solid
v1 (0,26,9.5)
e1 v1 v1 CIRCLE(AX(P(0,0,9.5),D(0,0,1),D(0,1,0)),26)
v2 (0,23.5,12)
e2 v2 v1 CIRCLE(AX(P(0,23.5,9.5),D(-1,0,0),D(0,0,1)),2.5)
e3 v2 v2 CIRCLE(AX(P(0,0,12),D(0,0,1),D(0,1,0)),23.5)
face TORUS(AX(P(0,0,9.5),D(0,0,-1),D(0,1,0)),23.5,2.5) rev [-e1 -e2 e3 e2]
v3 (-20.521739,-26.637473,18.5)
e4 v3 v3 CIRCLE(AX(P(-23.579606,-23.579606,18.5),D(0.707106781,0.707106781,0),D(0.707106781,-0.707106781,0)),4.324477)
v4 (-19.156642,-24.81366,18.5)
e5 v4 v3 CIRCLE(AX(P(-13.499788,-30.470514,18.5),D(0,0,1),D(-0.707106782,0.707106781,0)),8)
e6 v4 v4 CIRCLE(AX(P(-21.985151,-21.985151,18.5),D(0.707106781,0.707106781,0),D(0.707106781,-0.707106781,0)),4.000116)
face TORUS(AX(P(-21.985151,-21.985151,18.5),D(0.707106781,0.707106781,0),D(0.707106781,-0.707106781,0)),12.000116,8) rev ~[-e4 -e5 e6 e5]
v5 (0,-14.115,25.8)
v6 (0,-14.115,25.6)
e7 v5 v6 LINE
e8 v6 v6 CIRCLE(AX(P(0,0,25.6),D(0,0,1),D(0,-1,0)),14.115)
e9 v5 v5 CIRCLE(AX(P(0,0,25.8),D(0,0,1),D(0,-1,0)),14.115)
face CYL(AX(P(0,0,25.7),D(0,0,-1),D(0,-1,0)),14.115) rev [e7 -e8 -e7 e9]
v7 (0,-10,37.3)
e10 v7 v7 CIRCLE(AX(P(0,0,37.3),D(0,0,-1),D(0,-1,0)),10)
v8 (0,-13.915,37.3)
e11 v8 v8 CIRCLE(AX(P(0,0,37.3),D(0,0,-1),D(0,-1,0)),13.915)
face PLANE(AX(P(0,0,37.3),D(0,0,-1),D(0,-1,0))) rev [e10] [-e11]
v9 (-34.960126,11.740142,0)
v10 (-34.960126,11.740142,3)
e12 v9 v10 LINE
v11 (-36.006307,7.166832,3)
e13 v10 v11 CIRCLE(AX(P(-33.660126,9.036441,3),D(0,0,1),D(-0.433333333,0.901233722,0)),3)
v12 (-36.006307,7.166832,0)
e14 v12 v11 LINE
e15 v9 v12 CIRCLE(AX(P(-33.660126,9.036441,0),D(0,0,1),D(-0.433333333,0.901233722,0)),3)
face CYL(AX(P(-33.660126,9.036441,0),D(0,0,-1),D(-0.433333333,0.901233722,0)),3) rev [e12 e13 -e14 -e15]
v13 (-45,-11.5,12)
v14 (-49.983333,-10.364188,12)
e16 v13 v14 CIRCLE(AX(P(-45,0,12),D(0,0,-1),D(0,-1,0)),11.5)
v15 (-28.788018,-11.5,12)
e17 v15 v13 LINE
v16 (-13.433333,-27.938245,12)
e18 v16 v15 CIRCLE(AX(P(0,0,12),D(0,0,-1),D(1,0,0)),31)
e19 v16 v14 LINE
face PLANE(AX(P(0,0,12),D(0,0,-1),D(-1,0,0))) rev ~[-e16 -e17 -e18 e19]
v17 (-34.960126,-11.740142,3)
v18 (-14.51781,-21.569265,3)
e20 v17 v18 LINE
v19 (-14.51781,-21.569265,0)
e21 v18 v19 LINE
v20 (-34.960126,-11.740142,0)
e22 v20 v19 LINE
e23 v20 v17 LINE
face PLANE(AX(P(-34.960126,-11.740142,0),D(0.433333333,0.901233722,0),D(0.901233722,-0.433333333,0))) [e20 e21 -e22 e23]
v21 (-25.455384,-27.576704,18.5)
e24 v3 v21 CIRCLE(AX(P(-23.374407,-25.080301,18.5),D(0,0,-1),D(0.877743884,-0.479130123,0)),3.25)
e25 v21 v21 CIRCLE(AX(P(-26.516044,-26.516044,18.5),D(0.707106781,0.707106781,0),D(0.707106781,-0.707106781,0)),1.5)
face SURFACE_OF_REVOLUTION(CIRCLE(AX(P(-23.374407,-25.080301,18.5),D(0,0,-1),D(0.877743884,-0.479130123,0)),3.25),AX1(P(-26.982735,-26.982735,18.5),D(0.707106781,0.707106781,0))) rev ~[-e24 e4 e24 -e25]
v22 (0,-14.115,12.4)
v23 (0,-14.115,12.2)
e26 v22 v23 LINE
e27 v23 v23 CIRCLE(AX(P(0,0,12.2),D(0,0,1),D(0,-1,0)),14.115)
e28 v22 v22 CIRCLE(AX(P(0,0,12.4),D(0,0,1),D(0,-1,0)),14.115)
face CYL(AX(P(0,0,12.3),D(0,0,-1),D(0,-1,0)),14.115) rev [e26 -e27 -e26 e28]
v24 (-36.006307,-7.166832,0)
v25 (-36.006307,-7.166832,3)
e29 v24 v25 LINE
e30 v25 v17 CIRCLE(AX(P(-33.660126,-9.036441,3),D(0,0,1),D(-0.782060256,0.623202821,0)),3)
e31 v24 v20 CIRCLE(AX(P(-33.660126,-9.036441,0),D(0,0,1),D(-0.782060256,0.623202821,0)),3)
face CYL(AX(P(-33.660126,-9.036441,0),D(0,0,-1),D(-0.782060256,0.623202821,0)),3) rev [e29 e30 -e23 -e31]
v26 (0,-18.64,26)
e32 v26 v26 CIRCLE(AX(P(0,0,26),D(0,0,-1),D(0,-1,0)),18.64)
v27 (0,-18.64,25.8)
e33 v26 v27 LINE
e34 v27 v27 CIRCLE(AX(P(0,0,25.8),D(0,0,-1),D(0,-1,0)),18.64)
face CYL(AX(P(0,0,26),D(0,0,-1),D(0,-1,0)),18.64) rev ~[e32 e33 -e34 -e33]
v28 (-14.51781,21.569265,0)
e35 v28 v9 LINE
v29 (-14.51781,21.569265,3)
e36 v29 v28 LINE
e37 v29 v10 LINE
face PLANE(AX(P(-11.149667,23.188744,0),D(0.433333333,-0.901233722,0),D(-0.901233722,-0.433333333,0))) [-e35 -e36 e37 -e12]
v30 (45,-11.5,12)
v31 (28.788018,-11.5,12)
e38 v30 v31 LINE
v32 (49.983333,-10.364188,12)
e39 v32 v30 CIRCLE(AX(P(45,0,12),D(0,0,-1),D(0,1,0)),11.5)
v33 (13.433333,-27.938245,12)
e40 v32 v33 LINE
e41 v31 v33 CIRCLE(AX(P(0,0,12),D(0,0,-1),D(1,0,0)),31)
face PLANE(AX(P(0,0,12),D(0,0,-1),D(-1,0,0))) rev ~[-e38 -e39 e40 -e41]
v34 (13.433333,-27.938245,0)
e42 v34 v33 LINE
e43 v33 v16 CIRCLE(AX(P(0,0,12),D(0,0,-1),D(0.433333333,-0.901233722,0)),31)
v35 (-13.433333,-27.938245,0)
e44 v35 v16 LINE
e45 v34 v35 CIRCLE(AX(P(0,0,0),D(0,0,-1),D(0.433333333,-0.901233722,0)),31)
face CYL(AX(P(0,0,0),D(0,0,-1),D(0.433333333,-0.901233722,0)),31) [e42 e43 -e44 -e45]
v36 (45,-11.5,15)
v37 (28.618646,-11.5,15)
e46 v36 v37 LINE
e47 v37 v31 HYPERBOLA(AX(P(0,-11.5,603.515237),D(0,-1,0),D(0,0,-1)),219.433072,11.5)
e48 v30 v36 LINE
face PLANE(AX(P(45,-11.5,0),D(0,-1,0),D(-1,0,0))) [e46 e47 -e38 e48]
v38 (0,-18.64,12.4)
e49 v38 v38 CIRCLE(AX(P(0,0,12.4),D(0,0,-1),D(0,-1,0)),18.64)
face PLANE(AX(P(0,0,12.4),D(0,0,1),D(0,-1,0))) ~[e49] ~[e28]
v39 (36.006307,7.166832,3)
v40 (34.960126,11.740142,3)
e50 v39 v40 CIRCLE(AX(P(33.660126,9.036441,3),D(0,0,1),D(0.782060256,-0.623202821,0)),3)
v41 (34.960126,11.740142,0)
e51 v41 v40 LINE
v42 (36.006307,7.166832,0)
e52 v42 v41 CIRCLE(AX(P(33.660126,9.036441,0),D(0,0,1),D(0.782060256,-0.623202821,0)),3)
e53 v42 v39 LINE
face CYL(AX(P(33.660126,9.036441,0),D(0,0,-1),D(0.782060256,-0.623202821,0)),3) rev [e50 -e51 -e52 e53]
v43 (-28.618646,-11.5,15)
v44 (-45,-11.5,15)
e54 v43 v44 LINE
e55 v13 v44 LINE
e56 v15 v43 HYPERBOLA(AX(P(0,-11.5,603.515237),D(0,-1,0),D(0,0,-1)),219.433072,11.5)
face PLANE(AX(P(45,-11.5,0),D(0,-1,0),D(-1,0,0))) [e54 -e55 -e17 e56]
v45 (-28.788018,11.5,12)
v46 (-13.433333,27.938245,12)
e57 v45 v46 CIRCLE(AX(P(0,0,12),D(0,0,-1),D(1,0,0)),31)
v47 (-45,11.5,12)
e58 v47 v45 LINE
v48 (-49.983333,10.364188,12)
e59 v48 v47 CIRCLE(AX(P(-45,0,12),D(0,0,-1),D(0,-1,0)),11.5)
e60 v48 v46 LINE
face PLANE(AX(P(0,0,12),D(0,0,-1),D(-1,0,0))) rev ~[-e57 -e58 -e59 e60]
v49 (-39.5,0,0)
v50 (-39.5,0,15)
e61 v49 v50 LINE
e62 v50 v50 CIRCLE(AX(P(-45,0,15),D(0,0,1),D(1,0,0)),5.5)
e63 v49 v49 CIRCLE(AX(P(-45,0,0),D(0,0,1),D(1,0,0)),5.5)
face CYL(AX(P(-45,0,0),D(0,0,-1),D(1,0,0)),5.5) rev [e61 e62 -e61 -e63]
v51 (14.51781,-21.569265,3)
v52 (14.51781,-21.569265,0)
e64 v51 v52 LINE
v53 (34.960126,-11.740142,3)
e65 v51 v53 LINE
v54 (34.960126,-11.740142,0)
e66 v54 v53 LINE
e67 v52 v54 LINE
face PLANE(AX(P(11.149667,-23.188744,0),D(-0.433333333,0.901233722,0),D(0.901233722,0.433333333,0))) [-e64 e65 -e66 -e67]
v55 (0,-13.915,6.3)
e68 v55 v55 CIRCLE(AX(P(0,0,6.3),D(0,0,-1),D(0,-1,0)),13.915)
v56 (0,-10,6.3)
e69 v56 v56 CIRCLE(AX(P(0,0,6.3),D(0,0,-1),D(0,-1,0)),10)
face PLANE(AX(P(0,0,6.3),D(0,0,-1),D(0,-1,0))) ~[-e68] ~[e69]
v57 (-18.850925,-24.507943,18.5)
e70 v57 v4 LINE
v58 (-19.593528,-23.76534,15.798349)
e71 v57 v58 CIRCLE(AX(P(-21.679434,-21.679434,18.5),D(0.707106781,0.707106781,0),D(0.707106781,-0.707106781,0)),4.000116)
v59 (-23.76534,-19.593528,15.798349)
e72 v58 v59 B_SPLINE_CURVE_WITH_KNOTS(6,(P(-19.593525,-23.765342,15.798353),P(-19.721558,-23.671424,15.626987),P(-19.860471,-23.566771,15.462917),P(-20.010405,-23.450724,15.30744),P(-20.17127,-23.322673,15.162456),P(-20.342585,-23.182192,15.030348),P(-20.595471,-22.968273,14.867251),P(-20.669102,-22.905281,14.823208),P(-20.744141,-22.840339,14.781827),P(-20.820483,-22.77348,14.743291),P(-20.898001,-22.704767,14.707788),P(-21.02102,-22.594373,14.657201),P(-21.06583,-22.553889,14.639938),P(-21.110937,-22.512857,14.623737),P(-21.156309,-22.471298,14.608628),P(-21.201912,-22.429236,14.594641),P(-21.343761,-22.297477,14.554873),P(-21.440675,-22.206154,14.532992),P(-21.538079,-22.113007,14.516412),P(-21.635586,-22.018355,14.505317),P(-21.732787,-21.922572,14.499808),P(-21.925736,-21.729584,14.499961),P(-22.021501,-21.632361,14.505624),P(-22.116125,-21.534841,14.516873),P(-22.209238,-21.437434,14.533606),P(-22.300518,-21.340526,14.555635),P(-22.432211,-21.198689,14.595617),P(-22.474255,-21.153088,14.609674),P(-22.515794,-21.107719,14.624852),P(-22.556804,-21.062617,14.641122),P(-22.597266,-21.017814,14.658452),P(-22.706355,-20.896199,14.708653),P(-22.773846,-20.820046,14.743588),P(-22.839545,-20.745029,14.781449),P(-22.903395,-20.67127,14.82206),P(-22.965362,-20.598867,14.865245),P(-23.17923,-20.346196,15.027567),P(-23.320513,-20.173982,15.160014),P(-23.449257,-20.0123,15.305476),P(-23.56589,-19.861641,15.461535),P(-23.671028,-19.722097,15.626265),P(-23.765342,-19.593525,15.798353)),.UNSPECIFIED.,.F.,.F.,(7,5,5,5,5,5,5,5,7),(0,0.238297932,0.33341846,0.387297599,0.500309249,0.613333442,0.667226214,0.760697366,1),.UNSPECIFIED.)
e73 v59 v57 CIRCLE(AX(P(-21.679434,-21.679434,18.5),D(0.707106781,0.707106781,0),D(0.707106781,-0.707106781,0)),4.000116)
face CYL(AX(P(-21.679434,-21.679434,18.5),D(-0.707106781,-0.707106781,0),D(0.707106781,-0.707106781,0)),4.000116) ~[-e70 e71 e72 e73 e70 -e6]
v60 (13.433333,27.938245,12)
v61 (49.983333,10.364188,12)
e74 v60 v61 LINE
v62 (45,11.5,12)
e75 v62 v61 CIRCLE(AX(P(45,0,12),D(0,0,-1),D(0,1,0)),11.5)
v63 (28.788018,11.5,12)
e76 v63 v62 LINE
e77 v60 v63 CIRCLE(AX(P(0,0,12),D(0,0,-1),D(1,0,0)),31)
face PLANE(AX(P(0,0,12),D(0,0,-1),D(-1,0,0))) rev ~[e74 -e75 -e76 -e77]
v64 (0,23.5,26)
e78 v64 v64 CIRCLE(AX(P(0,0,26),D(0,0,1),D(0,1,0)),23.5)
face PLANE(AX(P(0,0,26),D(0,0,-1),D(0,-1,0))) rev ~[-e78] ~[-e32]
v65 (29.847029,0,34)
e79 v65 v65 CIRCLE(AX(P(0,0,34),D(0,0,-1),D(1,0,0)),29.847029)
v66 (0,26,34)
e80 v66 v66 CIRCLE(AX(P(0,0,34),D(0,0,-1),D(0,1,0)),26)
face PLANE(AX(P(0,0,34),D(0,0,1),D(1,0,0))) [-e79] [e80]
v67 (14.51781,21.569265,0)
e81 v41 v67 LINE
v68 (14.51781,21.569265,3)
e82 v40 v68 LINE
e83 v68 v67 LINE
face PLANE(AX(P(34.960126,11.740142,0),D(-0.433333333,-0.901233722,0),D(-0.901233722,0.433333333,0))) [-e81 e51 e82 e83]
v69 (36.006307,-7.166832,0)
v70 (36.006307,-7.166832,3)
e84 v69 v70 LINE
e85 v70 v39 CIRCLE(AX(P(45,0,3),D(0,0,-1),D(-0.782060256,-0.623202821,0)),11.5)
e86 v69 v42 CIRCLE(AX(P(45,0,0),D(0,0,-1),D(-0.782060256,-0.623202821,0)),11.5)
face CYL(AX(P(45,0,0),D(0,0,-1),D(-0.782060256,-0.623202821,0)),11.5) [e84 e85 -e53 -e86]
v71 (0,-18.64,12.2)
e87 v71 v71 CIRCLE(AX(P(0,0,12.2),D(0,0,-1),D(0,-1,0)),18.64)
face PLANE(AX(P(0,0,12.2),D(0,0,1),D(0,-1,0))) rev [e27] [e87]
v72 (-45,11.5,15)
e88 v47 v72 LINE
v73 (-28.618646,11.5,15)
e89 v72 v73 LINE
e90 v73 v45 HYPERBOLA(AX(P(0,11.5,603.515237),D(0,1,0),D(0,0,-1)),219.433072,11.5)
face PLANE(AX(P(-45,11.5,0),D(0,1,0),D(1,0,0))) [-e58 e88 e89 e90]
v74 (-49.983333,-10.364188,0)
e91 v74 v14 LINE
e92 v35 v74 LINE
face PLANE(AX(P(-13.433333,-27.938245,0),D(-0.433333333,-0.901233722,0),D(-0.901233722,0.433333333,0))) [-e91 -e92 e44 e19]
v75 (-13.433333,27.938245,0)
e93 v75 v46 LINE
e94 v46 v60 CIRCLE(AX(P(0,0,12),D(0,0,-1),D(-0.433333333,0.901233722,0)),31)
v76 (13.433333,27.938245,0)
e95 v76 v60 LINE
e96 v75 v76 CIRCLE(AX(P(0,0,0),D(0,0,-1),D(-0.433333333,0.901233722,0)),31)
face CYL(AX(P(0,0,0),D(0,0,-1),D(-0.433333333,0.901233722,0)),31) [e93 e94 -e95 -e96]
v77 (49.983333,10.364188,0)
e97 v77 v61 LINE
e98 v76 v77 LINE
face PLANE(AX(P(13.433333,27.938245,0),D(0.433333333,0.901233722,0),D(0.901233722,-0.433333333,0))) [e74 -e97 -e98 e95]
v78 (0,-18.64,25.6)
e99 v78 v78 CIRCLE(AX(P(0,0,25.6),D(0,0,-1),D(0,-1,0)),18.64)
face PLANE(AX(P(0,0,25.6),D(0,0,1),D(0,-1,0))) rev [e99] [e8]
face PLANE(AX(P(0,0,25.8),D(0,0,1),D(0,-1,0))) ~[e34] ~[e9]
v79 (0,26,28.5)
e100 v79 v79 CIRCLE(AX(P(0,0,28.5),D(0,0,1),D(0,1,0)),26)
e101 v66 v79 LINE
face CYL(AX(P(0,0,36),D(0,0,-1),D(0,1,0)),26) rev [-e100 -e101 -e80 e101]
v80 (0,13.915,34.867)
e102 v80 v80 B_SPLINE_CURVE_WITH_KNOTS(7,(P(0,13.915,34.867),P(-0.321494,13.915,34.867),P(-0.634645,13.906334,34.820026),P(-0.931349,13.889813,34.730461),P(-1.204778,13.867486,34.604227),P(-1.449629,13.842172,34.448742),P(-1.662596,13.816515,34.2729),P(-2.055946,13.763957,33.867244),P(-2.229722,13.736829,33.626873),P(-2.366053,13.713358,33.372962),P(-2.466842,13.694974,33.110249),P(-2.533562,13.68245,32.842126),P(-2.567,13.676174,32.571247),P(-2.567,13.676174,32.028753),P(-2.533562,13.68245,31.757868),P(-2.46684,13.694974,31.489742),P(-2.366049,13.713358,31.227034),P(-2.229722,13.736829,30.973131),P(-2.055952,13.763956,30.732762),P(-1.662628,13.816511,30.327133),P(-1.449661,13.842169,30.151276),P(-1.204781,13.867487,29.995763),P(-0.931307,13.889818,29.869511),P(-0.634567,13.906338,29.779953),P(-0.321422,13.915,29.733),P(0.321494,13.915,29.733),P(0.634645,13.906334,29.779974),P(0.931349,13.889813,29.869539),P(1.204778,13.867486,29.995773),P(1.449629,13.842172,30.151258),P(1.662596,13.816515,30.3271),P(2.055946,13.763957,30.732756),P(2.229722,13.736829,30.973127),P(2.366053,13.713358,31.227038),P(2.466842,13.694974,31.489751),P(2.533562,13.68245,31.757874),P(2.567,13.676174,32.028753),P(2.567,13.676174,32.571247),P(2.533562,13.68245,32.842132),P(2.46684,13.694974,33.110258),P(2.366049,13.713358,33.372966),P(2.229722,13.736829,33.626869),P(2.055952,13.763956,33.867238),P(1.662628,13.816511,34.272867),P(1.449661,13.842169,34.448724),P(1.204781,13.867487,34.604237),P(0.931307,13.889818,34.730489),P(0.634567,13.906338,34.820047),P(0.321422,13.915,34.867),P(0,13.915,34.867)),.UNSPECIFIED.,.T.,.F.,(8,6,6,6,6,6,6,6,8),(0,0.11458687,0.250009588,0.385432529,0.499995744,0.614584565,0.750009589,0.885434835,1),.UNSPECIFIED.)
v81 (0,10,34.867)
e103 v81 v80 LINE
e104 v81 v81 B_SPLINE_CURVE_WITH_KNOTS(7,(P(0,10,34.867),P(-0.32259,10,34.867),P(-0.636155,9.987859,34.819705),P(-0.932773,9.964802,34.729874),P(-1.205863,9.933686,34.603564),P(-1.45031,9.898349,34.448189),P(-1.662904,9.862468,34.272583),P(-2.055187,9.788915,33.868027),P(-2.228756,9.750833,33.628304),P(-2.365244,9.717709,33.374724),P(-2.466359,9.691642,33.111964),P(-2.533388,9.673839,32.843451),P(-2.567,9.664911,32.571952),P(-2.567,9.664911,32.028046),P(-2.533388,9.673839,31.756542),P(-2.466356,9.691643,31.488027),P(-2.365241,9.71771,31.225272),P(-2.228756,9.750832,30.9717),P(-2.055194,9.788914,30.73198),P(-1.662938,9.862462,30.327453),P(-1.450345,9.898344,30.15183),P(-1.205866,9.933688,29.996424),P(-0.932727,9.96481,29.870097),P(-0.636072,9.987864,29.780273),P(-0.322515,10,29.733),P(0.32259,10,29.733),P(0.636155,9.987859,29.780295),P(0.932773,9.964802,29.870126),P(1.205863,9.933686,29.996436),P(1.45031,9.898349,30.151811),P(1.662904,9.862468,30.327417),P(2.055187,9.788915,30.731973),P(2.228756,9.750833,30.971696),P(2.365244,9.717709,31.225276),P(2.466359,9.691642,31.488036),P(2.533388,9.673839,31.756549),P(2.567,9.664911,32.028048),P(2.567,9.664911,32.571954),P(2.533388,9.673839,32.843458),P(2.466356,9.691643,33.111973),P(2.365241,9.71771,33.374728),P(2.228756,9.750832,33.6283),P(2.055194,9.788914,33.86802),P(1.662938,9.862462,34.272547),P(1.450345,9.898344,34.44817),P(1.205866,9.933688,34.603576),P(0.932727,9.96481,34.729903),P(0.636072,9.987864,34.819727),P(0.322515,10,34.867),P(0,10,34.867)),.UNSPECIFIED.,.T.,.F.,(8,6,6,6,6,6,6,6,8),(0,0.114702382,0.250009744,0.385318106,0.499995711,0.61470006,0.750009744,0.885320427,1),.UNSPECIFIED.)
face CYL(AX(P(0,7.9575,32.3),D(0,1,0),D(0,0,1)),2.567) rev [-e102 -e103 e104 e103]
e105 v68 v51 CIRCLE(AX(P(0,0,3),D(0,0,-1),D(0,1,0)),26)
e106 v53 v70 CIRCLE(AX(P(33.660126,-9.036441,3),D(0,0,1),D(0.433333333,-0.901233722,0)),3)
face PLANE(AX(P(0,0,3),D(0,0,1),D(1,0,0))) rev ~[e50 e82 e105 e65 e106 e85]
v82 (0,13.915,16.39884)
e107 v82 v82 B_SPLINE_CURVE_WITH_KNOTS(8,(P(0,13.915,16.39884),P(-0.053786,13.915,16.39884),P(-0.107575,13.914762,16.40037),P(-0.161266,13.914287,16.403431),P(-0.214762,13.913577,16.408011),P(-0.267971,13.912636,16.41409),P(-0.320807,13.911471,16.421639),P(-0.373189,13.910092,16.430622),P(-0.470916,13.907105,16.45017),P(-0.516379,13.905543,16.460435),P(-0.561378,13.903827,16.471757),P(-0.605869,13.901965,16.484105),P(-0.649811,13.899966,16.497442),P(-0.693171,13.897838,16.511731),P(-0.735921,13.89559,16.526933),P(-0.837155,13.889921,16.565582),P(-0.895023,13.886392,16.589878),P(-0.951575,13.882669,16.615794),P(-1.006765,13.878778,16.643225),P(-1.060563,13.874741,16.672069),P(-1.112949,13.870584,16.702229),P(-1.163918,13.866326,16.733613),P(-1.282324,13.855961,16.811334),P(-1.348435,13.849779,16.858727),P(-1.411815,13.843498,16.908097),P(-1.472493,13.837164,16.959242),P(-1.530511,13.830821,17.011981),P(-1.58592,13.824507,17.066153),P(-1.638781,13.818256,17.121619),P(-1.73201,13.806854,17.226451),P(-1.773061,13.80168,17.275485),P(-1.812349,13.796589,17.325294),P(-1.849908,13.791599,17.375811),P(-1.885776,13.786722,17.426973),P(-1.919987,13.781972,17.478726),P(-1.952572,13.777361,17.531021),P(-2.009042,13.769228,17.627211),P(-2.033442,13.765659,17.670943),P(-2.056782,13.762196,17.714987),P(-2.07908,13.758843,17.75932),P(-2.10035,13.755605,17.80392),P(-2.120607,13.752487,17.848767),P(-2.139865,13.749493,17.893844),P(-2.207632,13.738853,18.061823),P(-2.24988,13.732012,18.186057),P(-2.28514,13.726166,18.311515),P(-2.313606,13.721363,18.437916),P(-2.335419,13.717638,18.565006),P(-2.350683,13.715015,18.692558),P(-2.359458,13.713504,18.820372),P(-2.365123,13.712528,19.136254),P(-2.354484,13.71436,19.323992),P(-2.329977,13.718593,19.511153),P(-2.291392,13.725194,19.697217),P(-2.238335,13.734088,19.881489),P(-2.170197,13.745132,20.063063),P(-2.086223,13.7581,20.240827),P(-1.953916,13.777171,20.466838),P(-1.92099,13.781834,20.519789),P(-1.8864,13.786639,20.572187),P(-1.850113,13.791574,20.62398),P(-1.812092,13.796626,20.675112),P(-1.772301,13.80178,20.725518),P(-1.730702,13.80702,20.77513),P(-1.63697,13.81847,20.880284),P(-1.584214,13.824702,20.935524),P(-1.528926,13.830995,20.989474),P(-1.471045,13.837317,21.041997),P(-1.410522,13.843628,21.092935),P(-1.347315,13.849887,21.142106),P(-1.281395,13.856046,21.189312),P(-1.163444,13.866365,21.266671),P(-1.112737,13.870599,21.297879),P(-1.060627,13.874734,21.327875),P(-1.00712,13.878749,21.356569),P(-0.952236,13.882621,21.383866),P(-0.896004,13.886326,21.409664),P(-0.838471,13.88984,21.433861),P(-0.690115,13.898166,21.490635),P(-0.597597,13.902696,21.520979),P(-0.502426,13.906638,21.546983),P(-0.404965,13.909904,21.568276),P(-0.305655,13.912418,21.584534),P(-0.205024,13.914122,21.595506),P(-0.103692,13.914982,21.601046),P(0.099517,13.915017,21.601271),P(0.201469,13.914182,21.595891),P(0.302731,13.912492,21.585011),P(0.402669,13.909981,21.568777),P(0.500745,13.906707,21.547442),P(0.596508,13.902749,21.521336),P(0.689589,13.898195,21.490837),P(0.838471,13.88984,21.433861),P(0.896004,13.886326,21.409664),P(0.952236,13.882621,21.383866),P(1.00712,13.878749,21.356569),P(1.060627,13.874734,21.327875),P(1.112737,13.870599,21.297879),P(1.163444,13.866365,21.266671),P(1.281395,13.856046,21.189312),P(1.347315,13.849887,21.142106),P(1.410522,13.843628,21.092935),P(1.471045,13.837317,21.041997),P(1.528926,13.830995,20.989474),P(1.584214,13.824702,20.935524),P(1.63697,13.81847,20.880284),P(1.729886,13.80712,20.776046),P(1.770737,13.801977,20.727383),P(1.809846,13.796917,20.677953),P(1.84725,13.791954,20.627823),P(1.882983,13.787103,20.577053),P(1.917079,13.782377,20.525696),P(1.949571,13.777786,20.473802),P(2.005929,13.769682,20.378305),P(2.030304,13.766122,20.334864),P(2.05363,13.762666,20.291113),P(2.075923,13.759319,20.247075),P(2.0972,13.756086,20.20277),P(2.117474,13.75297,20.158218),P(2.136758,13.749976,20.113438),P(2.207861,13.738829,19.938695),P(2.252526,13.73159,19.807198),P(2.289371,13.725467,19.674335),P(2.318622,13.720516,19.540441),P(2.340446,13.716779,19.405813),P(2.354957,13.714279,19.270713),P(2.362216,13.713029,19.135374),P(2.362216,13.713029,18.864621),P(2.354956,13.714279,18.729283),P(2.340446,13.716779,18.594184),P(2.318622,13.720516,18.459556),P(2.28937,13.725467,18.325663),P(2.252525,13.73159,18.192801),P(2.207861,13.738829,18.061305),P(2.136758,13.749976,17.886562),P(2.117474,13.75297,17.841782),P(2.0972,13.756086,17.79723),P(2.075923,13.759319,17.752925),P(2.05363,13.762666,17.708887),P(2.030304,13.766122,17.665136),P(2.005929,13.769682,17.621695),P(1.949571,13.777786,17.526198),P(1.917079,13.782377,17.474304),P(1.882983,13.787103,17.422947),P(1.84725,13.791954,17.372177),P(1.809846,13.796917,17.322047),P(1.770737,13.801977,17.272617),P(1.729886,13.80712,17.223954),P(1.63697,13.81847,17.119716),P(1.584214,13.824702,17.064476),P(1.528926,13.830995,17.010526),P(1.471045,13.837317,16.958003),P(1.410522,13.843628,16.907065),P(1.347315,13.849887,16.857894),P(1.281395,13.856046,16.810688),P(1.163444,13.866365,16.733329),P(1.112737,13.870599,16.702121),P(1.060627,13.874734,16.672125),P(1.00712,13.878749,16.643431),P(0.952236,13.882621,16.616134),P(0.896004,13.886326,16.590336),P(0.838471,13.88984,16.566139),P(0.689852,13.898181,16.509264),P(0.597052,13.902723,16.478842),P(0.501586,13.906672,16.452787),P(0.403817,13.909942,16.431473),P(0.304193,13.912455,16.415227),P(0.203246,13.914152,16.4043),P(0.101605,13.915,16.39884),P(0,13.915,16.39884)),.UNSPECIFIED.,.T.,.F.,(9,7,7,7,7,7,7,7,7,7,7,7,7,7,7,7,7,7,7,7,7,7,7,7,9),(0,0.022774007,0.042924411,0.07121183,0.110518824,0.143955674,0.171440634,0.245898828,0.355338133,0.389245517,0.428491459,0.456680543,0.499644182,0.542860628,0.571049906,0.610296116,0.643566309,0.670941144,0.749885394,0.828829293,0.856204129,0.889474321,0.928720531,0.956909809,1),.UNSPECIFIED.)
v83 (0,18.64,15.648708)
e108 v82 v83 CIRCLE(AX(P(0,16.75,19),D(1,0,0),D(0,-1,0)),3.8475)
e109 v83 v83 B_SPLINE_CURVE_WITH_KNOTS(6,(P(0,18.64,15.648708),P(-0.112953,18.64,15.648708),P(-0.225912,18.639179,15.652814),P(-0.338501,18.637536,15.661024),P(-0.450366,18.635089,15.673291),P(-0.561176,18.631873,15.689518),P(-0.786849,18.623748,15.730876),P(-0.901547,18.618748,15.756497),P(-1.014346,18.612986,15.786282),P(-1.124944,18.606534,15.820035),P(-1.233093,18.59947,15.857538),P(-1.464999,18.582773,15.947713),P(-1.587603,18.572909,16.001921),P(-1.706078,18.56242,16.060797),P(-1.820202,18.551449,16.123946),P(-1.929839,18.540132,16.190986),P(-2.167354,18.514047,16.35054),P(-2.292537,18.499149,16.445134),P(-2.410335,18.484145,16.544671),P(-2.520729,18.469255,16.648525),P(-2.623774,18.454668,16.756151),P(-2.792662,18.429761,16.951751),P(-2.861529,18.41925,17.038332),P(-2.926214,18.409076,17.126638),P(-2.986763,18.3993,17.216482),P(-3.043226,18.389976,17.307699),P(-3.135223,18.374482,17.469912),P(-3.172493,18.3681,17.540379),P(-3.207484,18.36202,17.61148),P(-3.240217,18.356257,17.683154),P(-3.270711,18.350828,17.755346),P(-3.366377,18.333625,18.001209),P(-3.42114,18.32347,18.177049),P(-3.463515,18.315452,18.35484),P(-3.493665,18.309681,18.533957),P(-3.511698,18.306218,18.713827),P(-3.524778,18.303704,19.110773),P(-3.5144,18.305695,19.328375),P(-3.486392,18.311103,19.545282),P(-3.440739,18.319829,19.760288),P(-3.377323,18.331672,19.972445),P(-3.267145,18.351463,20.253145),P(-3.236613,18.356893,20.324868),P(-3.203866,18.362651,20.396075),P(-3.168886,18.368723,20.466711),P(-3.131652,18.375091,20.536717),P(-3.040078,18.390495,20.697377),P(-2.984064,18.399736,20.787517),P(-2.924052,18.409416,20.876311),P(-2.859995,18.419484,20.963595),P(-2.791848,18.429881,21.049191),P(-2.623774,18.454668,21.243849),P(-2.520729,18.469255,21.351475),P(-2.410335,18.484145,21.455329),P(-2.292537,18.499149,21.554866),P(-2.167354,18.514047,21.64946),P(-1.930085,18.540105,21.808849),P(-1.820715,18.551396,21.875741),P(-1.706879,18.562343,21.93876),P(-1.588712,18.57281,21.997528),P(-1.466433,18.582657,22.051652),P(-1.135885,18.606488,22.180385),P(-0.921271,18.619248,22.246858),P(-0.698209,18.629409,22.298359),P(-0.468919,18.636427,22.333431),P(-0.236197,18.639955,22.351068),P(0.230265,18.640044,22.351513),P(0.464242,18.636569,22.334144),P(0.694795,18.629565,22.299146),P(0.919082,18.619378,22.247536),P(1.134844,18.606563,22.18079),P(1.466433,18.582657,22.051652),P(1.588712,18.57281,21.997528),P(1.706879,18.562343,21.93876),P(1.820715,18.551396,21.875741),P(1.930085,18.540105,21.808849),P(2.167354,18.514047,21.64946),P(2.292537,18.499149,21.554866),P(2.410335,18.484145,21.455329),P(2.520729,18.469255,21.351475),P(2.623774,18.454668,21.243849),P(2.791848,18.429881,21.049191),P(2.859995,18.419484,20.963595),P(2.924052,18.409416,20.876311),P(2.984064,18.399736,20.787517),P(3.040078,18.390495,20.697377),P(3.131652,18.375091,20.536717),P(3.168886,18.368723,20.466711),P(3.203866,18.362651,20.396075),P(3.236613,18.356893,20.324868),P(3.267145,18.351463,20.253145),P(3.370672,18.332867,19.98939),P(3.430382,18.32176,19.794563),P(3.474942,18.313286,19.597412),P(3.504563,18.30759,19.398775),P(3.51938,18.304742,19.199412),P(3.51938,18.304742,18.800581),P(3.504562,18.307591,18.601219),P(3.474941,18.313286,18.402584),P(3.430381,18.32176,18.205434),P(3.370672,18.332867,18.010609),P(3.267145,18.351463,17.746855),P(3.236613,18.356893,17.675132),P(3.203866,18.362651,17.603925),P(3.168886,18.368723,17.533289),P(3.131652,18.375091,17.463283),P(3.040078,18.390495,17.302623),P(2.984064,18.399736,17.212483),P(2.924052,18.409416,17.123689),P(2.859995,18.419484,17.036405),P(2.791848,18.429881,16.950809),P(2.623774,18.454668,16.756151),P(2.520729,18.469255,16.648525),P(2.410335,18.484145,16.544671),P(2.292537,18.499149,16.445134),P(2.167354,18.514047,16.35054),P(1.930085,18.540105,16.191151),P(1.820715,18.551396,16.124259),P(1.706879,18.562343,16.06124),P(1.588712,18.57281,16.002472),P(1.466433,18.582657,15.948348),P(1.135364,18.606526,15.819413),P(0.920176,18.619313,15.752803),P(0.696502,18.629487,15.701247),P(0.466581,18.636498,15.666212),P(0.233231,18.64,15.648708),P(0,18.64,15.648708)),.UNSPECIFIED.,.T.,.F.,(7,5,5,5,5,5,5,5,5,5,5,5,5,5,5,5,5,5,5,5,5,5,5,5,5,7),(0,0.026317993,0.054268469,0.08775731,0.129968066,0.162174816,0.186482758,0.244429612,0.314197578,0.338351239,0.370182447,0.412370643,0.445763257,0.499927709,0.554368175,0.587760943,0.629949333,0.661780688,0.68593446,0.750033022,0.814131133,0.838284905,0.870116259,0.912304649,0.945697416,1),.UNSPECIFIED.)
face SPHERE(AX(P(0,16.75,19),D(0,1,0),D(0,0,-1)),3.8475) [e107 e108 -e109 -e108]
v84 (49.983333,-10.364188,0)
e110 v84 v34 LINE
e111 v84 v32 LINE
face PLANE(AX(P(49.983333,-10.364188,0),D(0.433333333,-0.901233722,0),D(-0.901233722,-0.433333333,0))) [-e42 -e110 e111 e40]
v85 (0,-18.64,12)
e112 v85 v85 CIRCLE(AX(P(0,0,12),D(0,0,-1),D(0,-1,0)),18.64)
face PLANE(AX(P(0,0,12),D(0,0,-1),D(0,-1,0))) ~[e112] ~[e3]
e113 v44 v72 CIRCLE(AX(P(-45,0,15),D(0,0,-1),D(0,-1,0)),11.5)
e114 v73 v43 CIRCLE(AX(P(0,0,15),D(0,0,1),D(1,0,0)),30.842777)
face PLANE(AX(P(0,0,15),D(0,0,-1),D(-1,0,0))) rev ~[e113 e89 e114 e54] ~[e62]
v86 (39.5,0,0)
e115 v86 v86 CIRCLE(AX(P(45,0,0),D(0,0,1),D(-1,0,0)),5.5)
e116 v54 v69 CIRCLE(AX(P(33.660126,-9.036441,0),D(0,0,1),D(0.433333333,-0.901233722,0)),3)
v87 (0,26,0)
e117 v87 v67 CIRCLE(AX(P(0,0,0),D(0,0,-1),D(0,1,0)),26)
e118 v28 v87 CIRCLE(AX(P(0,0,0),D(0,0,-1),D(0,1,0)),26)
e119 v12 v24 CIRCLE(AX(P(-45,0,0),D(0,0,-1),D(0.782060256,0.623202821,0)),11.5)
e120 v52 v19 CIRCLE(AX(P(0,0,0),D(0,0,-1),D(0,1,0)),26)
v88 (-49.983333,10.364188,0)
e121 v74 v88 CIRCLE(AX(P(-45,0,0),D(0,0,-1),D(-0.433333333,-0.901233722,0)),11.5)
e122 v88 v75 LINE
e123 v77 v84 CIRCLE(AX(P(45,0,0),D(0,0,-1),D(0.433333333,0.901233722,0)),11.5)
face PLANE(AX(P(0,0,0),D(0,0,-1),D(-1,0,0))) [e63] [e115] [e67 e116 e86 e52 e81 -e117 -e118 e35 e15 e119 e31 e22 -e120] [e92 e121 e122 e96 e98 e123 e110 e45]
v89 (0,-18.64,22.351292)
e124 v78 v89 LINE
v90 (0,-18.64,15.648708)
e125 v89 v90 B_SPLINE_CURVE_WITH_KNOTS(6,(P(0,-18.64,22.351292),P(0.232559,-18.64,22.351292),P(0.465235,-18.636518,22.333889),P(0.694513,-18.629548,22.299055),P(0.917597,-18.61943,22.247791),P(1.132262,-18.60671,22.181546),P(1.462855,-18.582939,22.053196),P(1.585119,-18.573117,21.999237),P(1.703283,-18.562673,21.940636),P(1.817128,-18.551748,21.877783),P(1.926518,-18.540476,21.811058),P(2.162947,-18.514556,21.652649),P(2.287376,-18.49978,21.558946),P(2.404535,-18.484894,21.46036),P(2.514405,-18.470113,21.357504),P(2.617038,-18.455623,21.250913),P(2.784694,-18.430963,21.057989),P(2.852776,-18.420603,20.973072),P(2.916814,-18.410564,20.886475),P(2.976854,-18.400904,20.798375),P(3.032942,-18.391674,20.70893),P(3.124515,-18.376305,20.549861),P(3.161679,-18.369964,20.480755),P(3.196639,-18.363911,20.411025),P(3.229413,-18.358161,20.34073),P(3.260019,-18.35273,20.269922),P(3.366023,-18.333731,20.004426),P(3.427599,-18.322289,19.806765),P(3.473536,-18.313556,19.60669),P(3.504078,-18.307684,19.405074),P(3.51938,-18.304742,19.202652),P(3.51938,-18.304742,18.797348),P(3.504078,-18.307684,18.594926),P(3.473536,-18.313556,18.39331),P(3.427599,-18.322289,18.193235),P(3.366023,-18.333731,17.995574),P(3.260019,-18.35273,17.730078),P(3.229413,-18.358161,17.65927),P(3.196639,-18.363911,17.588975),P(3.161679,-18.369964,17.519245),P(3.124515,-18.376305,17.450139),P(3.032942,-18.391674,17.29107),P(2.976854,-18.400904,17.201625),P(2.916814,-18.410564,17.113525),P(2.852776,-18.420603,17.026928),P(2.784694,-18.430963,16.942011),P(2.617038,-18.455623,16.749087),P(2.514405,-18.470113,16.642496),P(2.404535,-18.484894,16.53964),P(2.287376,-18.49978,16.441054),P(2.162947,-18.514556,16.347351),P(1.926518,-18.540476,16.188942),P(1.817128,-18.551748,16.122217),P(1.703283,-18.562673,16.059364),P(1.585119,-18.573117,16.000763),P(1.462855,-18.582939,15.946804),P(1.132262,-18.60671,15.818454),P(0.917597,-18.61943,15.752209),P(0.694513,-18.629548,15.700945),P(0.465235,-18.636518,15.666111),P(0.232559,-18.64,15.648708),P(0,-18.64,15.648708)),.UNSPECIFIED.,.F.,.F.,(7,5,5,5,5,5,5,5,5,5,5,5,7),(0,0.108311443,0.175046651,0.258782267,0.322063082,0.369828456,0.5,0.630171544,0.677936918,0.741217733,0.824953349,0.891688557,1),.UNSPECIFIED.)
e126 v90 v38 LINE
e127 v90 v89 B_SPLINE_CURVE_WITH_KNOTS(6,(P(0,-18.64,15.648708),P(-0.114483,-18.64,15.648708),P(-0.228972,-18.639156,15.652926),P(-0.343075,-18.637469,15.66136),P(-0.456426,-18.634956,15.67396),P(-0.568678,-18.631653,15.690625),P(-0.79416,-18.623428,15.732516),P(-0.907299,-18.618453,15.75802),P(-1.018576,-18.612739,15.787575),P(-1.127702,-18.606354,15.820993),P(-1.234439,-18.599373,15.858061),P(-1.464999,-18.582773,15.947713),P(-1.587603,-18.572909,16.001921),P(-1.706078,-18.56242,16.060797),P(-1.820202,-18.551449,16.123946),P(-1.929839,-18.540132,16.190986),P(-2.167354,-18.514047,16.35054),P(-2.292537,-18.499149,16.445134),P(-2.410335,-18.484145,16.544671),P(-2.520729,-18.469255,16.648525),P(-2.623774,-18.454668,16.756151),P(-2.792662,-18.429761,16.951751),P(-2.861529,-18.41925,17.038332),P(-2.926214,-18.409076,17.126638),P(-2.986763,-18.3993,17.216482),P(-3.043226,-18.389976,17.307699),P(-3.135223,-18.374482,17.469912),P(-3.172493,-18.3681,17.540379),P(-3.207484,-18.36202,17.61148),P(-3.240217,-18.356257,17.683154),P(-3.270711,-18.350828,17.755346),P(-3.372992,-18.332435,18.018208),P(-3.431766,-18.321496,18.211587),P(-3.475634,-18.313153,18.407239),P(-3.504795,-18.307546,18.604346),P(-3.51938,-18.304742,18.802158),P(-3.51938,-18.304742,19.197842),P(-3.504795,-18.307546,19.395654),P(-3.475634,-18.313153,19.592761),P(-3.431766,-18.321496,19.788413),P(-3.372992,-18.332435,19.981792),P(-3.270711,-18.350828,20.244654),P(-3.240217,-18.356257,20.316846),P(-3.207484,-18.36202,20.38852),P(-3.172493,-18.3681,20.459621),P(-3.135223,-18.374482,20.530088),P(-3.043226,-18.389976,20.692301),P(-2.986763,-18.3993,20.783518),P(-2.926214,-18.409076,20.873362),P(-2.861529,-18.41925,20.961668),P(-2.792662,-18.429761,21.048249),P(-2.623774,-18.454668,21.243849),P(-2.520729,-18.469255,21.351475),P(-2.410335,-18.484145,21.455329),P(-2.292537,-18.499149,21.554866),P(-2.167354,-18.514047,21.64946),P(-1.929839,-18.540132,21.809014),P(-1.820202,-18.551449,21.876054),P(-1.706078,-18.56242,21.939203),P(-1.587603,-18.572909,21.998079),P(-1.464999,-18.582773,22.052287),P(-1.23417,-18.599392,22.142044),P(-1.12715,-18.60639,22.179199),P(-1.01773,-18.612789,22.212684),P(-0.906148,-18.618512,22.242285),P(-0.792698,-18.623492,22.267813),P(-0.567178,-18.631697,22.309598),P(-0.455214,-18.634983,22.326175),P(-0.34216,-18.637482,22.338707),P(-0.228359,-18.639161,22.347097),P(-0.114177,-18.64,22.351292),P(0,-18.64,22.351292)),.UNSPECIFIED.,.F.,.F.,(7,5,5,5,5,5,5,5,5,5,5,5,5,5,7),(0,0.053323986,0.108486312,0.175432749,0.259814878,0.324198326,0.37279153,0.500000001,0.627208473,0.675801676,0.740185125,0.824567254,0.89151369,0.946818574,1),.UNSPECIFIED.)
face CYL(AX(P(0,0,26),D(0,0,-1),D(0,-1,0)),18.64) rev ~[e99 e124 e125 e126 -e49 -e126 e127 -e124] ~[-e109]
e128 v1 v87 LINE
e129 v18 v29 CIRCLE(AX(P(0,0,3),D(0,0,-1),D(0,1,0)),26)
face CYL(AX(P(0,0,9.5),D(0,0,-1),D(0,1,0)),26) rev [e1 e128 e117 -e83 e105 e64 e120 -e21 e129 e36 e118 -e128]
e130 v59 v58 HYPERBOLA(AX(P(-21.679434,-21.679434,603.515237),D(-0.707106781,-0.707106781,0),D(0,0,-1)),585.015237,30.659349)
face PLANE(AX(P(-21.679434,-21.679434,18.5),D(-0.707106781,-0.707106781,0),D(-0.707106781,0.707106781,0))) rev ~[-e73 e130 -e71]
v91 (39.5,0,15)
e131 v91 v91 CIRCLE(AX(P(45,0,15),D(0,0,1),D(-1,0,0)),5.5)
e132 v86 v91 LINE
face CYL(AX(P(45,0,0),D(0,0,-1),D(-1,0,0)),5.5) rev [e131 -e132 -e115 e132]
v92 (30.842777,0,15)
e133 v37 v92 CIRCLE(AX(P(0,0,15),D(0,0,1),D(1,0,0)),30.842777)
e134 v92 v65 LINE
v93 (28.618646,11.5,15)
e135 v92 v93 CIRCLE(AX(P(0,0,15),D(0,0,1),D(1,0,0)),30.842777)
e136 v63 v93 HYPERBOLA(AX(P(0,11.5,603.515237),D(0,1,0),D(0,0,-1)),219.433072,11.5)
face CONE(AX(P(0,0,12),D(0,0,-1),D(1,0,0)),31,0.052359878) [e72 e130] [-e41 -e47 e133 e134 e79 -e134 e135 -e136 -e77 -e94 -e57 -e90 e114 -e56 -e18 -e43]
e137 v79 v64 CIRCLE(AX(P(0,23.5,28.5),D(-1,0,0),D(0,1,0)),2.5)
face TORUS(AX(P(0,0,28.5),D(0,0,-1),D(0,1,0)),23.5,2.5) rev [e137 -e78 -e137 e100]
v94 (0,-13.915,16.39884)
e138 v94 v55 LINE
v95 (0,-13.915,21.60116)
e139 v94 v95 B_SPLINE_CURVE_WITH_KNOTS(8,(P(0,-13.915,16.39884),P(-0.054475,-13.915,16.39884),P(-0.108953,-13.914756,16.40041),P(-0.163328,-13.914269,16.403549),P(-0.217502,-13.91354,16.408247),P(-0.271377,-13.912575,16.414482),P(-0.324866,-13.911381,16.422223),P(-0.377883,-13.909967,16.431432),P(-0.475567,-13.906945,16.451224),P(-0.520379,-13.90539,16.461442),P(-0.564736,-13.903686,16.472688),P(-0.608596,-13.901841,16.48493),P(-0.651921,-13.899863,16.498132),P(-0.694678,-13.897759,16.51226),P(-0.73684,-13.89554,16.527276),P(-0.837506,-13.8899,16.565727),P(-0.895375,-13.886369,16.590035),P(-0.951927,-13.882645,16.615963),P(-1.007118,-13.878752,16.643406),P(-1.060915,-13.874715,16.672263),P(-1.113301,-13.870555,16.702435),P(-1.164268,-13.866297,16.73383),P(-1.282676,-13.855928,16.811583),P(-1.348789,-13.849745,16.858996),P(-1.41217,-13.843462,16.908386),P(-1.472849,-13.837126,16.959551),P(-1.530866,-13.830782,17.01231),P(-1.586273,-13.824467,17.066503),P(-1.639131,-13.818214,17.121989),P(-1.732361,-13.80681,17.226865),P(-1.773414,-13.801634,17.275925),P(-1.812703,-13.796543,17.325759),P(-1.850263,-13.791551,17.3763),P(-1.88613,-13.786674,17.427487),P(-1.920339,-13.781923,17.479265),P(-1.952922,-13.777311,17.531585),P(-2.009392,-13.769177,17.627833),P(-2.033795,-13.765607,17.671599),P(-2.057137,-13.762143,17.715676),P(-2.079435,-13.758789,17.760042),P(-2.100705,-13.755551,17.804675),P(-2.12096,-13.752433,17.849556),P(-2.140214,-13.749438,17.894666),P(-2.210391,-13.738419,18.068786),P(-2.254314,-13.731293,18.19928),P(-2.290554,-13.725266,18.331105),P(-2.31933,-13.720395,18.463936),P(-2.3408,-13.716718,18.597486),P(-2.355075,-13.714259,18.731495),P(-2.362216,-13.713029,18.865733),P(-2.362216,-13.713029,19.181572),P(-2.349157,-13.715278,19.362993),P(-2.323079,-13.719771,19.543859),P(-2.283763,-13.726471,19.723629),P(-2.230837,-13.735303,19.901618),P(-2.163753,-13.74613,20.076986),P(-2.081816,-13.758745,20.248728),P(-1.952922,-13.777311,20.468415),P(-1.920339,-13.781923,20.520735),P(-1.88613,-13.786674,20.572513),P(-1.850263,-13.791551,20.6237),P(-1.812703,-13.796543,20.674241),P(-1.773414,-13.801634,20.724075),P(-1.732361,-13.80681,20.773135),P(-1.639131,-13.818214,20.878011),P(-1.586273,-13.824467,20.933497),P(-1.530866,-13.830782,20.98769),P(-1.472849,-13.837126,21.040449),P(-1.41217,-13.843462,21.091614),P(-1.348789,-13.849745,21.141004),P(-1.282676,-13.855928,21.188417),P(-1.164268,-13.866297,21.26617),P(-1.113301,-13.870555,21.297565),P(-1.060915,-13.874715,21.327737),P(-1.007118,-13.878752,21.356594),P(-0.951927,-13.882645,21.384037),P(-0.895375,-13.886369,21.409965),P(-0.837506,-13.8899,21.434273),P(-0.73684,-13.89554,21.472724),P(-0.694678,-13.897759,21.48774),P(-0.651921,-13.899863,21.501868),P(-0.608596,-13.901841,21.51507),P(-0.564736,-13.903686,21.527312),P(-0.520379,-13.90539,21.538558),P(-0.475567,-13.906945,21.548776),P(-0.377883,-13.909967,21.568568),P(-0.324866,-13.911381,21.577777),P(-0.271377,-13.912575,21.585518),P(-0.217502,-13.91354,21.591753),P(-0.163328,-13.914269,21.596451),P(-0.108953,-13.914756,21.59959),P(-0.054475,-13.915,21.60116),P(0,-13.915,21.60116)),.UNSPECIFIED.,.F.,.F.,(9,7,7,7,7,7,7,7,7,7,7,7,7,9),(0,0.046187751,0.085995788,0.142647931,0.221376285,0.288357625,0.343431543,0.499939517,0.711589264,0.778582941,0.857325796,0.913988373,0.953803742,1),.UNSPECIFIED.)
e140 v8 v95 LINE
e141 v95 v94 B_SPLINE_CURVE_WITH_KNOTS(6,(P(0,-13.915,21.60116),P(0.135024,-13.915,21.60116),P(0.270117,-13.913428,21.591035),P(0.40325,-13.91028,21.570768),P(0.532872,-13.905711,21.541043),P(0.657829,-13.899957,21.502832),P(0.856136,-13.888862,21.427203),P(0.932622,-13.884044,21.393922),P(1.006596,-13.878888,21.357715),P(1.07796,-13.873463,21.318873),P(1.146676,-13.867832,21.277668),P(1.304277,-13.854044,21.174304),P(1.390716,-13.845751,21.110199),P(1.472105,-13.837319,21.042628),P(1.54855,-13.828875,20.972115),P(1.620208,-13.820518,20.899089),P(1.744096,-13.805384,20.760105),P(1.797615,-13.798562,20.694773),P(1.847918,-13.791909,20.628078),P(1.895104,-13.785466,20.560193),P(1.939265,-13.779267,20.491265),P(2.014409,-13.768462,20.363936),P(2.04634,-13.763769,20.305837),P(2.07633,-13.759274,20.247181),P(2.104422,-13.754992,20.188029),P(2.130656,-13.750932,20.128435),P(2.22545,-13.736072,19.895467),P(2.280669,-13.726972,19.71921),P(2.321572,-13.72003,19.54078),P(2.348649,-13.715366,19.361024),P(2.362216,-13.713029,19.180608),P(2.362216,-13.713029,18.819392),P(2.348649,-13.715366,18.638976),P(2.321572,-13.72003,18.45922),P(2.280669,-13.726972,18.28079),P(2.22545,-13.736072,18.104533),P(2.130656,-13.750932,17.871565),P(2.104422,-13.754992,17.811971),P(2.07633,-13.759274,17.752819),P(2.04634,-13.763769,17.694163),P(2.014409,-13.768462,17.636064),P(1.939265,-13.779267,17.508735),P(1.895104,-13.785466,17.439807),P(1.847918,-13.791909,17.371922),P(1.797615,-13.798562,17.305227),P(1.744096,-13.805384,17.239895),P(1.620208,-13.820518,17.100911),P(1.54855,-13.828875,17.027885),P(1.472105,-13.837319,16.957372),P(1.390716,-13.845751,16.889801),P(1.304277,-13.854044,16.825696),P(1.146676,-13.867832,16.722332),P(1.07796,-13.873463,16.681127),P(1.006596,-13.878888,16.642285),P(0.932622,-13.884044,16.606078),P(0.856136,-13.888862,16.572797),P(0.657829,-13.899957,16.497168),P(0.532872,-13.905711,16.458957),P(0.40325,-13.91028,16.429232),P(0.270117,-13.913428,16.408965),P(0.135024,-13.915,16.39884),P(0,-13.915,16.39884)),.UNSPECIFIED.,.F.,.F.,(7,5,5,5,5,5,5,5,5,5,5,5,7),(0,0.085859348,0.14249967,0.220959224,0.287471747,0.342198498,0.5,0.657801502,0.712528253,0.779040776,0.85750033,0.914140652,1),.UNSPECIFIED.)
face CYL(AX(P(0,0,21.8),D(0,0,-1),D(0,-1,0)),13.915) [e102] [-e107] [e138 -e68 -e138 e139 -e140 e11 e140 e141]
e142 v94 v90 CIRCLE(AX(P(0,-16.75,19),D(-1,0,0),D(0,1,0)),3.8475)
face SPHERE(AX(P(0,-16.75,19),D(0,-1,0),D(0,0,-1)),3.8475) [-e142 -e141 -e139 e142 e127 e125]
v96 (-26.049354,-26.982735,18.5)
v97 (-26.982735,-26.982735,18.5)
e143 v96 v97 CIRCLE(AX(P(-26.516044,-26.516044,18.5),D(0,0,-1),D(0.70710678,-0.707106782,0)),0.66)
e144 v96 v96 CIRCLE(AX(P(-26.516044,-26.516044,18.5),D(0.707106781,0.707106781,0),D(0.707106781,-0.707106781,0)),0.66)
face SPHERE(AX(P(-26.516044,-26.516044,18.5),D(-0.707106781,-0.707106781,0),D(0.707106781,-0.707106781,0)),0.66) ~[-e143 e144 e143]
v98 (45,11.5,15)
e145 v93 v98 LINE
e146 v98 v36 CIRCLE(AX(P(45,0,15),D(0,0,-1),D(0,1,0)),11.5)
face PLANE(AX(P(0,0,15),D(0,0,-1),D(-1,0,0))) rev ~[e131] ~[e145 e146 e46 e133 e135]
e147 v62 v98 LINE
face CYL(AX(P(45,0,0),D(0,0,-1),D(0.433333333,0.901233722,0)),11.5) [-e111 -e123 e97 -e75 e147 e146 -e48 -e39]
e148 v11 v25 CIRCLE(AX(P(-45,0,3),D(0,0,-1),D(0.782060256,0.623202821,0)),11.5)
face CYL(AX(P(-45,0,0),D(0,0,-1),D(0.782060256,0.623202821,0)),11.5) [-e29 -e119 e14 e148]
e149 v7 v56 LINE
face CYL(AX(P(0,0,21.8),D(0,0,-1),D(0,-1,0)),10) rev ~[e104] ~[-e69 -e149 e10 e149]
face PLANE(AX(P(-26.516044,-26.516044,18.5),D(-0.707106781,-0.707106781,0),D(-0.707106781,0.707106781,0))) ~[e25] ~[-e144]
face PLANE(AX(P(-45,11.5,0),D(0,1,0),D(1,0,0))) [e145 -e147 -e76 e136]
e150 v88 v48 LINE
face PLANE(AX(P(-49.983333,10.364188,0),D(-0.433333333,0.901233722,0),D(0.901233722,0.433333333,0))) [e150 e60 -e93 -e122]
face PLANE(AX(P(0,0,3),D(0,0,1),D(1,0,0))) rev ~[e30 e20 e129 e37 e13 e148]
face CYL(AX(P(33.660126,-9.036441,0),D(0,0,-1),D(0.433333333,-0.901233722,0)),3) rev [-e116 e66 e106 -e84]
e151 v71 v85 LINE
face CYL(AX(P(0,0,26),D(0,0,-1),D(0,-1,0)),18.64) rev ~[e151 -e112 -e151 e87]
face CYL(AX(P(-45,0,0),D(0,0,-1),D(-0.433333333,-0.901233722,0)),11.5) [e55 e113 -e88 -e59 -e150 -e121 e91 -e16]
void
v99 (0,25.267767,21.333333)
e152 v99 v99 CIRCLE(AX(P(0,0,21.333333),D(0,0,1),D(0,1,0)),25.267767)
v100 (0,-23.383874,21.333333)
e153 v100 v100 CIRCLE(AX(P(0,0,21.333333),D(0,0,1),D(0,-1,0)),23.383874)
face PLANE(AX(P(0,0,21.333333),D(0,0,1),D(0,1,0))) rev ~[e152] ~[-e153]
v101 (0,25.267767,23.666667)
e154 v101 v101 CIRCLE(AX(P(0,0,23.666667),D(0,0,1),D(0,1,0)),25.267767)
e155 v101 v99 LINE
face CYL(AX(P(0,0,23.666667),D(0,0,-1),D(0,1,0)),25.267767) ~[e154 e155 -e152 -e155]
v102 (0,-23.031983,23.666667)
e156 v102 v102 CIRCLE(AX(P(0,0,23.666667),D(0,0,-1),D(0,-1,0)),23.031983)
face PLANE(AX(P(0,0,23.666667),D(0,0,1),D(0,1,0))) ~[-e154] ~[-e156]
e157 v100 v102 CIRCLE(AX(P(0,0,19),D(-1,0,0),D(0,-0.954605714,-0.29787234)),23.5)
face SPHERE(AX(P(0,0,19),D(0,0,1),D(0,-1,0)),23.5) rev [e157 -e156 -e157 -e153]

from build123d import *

# Parameters (mm, degrees)
SKETCH_2_R               = 5.5
EXTRUDE_671_DEPTH        = 12
SKETCH_3_R               = 5.5
EXTRUDE_1_DEPTH          = 15
SKETCH_4_R               = 31
EXTRUDE_2_DEPTH          = 22
EXTRUDE_2_TAPER          = 3
CUT_EXTRUDE_2_DEPTH      = 3
PATTERN_CIRCULAR_1_COUNT = 2
SKETCH_11_W              = 31
SKETCH_11_H              = 3.915
SKETCH_12_W              = 0.2
SKETCH_12_H              = 4.725
SKETCH_13_W              = 2.567
SKETCH_13_H              = 15.915


with BuildPart() as part:
    # 草图2 → Extrude 671 (new body)
    with BuildSketch(Plane.XY):
        with BuildLine():
            Line((-49.983333333, 10.364187807), (-13.433333333, 27.938245391))
            ThreePointArc((-13.433333333, 27.938245391), (0, 31), (13.433333333, 27.938245391))
            Line((13.433333333, 27.938245391), (49.983333333, 10.364187807))
            ThreePointArc((49.983333333, 10.364187807), (56.5, 0), (49.983333333, -10.364187807))
            Line((49.983333333, -10.364187807), (13.433333333, -27.938245391))
            ThreePointArc((13.433333333, -27.938245391), (0, -31), (-13.433333333, -27.938245391))
            Line((-13.433333333, -27.938245391), (-49.983333333, -10.364187807))
            ThreePointArc((-49.983333333, -10.364187807), (-56.5, 0), (-49.983333333, 10.364187807))
        make_face()
        with Locations((-45, 0)):
            Circle(SKETCH_2_R, mode=Mode.SUBTRACT)
        with Locations(Location((45, 0, 0), (0, 0, 180))):
            Circle(SKETCH_2_R, mode=Mode.SUBTRACT)
    extrude(amount=EXTRUDE_671_DEPTH)

    # 草图3 → 凸台-拉伸1 (add)
    with BuildSketch(Plane.XY):
        with BuildLine():
            Line((-45, 11.5), (45, 11.5))
            ThreePointArc((45, 11.5), (56.5, 0), (45, -11.5))
            Line((45, -11.5), (-45, -11.5))
            ThreePointArc((-45, -11.5), (-56.5, 0), (-45, 11.5))
        make_face()
        with Locations(Location((45, 0, 0), (0, 0, 180))):
            Circle(SKETCH_3_R, mode=Mode.SUBTRACT)
        with Locations((-45, 0)):
            Circle(SKETCH_3_R, mode=Mode.SUBTRACT)
    extrude(amount=EXTRUDE_1_DEPTH)

    # 草图4 → 凸台-拉伸2 (add)
    with BuildSketch(Plane.XY.offset(12)):
        Circle(SKETCH_4_R)
    extrude(amount=EXTRUDE_2_DEPTH, taper=EXTRUDE_2_TAPER)

    # 草图5 → 切除-拉伸2 (cut)
    with BuildSketch(Plane(origin=(0, 0, 0), x_dir=(-1, 0, 0), z_dir=(0, 0, -1))):
        with BuildLine():
            Line((-34.96012629, 11.740142073), (-11.149666667, 23.188743675))
            ThreePointArc((-11.149666667, 23.188743675), (0, 25.73), (11.149666667, 23.188743675))
            Line((11.149666667, 23.188743675), (34.96012629, 11.740142073))
            ThreePointArc((34.96012629, 11.740142073), (36.584583298, 9.705433588), (36.006307058, 7.166832443))
            ThreePointArc((36.006307058, 7.166832443), (33.5, 0), (36.006307058, -7.166832443))
            ThreePointArc((36.006307058, -7.166832443), (36.584583298, -9.705433588), (34.96012629, -11.740142073))
            Line((34.96012629, -11.740142073), (11.149666667, -23.188743675))
            ThreePointArc((11.149666667, -23.188743675), (0, -25.73), (-11.149666667, -23.188743675))
            Line((-11.149666667, -23.188743675), (-34.96012629, -11.740142073))
            ThreePointArc((-34.96012629, -11.740142073), (-36.584583298, -9.705433588), (-36.006307058, -7.166832443))
            ThreePointArc((-36.006307058, -7.166832443), (-33.5, 0), (-36.006307058, 7.166832443))
            ThreePointArc((-36.006307058, 7.166832443), (-36.584583298, 9.705433588), (-34.96012629, 11.740142073))
        make_face()
    extrude(amount=-CUT_EXTRUDE_2_DEPTH, mode=Mode.SUBTRACT)

    # 草图6 → 切除-旋转1 (revolve, cut)
    with BuildSketch(Plane(origin=(0, 0, 0), x_dir=(0, 0, -1), z_dir=(1, 0, 0))):
        with BuildLine():
            Line((-36, 26), (-28.5, 26))
            ThreePointArc((-28.5, 26), (-26.732233047, 25.267766953), (-26, 23.5))
            Line((-26, 23.5), (-26, 22.433234274))
            ThreePointArc((-26, 22.433234274), (-24.841010415, 22.762526163), (-23.666666667, 23.031982594))
            Line((-23.666666667, 23.031982594), (-23.666666667, 25.267766953))
            Line((-23.666666667, 25.267766953), (-21.333333333, 25.267766953))
            Line((-21.333333333, 25.267766953), (-21.333333333, 23.383873836))
            ThreePointArc((-21.333333333, 23.383873836), (-16.618745428, 23.379042467), (-12, 22.433234274))
            Line((-12, 22.433234274), (-12, 23.5))
            ThreePointArc((-12, 23.5), (-11.267766953, 25.267766953), (-9.5, 26))
            Line((-9.5, 26), (2, 26))
            Line((2, 26), (2, 0))
            Line((2, 0), (-36, 0))
            Line((-36, 0), (-36, 26))
        make_face()
    revolve(axis=Axis((0, 0, 0), (0, 0, 1)), mode=Mode.SUBTRACT)

    # 草图7 → 凸台-旋转1 (revolve)
    with BuildSketch(Plane.XY.offset(18.5)):
        with BuildLine():
            Line((-21.679433892, -21.679433892), (-18.850924901, -24.507942884))
            Line((-18.850924901, -24.507942884), (-19.156642158, -24.813660141))
            ThreePointArc((-19.156642158, -24.813660141), (-19.904442449, -25.676726722), (-20.521738978, -26.637473407))
            ThreePointArc((-20.521738978, -26.637473407), (-22.766611284, -28.272961601), (-25.455384104, -27.576704447))
            Line((-25.455384104, -27.576704447), (-26.0493538, -26.982734751))
            ThreePointArc((-26.0493538, -26.982734751), (-26.516044275, -27.176044275), (-26.982734751, -26.982734751))
            Line((-26.982734751, -26.982734751), (-21.679433892, -21.679433892))
        make_face()
    revolve(axis=Axis((-26.982734751, -26.982734751, 18.5), (0.7071067811865517, 0.7071067811865434, 0)))

    # 草图8 → 凸台-旋转2 (revolve)
    with BuildSketch(Plane(origin=(0, 0, 0), x_dir=(0, 0, -1), z_dir=(1, 0, 0)), mode=Mode.PRIVATE) as revolve_2_sk:
        with BuildLine():
            Line((-26, 22.433234274), (-26, 18.64))
            Line((-26, 18.64), (-12, 18.64))
            Line((-12, 18.64), (-12, 22.433234274))
            ThreePointArc((-12, 22.433234274), (-19, 23.5), (-26, 22.433234274))
        make_face()
    revolve(revolve_2_sk.sketch.rotate(Axis((0, 0, 19), (0, 0, -1)), 180), axis=Axis((0, 0, 19), (0, 0, -1)))

    # 草图9 → 凸台-旋转3 (revolve)
    with BuildSketch(Plane(origin=(0, 0, 0), x_dir=(0, 0, -1), z_dir=(1, 0, 0))):
        with BuildLine():
            Line((-19, 20.5975), (-19, 12.9025))
            ThreePointArc((-19, 12.9025), (-15.1525, 16.75), (-19, 20.5975))
        make_face()
    revolve_3 = revolve(axis=Axis((0, 0, 19), (0, 1, 0)))

    # 阵列(圆周)1: 凸台-旋转3 ×2 about axis
    pattern_circular_1_axis = Axis((0, 0, 0), (0, 0, 1))
    for i in range(1, PATTERN_CIRCULAR_1_COUNT):
        add(revolve_3.rotate(pattern_circular_1_axis, i * 360 / PATTERN_CIRCULAR_1_COUNT))

    # 草图11 → 凸台-旋转4 (revolve)
    with BuildSketch(Plane(origin=(0, 0, 0), x_dir=(0, 0, -1), z_dir=(1, 0, 0)), mode=Mode.PRIVATE) as revolve_4_sk:
        with Locations((-21.8, 11.9575)):
            Rectangle(SKETCH_11_W, SKETCH_11_H)
    revolve(revolve_4_sk.sketch.rotate(Axis((0, 0, 19), (0, 0, -1)), 180), axis=Axis((0, 0, 19), (0, 0, -1)))

    # 草图12 → 凸台-旋转5 (revolve)
    with BuildSketch(Plane(origin=(0, 0, 0), x_dir=(0, 0, -1), z_dir=(1, 0, 0)), mode=Mode.PRIVATE) as revolve_5_sk:
        with Locations((-25.7, 16.4775)):
            Rectangle(SKETCH_12_W, SKETCH_12_H)
        with Locations((-12.3, 16.4775)):
            Rectangle(SKETCH_12_W, SKETCH_12_H)
    revolve(revolve_5_sk.sketch.rotate(Axis((0, 0, 0), (0, 0, 1)), 180), axis=Axis((0, 0, 0), (0, 0, 1)))

    # 草图13 → 切除-旋转2 (revolve, cut)
    with BuildSketch(Plane(origin=(0, 0, 0), x_dir=(0, 0, -1), z_dir=(1, 0, 0)), mode=Mode.PRIVATE) as cut_revolve_2_sk:
        with Locations((-31.0165, 7.9575)):
            Rectangle(SKETCH_13_W, SKETCH_13_H)
    revolve(cut_revolve_2_sk.sketch.rotate(Axis((0, 15.915, 32.3), (0, -1, 0)), 180), axis=Axis((0, 15.915, 32.3), (0, -1, 0)), mode=Mode.SUBTRACT)


solid = part.part
